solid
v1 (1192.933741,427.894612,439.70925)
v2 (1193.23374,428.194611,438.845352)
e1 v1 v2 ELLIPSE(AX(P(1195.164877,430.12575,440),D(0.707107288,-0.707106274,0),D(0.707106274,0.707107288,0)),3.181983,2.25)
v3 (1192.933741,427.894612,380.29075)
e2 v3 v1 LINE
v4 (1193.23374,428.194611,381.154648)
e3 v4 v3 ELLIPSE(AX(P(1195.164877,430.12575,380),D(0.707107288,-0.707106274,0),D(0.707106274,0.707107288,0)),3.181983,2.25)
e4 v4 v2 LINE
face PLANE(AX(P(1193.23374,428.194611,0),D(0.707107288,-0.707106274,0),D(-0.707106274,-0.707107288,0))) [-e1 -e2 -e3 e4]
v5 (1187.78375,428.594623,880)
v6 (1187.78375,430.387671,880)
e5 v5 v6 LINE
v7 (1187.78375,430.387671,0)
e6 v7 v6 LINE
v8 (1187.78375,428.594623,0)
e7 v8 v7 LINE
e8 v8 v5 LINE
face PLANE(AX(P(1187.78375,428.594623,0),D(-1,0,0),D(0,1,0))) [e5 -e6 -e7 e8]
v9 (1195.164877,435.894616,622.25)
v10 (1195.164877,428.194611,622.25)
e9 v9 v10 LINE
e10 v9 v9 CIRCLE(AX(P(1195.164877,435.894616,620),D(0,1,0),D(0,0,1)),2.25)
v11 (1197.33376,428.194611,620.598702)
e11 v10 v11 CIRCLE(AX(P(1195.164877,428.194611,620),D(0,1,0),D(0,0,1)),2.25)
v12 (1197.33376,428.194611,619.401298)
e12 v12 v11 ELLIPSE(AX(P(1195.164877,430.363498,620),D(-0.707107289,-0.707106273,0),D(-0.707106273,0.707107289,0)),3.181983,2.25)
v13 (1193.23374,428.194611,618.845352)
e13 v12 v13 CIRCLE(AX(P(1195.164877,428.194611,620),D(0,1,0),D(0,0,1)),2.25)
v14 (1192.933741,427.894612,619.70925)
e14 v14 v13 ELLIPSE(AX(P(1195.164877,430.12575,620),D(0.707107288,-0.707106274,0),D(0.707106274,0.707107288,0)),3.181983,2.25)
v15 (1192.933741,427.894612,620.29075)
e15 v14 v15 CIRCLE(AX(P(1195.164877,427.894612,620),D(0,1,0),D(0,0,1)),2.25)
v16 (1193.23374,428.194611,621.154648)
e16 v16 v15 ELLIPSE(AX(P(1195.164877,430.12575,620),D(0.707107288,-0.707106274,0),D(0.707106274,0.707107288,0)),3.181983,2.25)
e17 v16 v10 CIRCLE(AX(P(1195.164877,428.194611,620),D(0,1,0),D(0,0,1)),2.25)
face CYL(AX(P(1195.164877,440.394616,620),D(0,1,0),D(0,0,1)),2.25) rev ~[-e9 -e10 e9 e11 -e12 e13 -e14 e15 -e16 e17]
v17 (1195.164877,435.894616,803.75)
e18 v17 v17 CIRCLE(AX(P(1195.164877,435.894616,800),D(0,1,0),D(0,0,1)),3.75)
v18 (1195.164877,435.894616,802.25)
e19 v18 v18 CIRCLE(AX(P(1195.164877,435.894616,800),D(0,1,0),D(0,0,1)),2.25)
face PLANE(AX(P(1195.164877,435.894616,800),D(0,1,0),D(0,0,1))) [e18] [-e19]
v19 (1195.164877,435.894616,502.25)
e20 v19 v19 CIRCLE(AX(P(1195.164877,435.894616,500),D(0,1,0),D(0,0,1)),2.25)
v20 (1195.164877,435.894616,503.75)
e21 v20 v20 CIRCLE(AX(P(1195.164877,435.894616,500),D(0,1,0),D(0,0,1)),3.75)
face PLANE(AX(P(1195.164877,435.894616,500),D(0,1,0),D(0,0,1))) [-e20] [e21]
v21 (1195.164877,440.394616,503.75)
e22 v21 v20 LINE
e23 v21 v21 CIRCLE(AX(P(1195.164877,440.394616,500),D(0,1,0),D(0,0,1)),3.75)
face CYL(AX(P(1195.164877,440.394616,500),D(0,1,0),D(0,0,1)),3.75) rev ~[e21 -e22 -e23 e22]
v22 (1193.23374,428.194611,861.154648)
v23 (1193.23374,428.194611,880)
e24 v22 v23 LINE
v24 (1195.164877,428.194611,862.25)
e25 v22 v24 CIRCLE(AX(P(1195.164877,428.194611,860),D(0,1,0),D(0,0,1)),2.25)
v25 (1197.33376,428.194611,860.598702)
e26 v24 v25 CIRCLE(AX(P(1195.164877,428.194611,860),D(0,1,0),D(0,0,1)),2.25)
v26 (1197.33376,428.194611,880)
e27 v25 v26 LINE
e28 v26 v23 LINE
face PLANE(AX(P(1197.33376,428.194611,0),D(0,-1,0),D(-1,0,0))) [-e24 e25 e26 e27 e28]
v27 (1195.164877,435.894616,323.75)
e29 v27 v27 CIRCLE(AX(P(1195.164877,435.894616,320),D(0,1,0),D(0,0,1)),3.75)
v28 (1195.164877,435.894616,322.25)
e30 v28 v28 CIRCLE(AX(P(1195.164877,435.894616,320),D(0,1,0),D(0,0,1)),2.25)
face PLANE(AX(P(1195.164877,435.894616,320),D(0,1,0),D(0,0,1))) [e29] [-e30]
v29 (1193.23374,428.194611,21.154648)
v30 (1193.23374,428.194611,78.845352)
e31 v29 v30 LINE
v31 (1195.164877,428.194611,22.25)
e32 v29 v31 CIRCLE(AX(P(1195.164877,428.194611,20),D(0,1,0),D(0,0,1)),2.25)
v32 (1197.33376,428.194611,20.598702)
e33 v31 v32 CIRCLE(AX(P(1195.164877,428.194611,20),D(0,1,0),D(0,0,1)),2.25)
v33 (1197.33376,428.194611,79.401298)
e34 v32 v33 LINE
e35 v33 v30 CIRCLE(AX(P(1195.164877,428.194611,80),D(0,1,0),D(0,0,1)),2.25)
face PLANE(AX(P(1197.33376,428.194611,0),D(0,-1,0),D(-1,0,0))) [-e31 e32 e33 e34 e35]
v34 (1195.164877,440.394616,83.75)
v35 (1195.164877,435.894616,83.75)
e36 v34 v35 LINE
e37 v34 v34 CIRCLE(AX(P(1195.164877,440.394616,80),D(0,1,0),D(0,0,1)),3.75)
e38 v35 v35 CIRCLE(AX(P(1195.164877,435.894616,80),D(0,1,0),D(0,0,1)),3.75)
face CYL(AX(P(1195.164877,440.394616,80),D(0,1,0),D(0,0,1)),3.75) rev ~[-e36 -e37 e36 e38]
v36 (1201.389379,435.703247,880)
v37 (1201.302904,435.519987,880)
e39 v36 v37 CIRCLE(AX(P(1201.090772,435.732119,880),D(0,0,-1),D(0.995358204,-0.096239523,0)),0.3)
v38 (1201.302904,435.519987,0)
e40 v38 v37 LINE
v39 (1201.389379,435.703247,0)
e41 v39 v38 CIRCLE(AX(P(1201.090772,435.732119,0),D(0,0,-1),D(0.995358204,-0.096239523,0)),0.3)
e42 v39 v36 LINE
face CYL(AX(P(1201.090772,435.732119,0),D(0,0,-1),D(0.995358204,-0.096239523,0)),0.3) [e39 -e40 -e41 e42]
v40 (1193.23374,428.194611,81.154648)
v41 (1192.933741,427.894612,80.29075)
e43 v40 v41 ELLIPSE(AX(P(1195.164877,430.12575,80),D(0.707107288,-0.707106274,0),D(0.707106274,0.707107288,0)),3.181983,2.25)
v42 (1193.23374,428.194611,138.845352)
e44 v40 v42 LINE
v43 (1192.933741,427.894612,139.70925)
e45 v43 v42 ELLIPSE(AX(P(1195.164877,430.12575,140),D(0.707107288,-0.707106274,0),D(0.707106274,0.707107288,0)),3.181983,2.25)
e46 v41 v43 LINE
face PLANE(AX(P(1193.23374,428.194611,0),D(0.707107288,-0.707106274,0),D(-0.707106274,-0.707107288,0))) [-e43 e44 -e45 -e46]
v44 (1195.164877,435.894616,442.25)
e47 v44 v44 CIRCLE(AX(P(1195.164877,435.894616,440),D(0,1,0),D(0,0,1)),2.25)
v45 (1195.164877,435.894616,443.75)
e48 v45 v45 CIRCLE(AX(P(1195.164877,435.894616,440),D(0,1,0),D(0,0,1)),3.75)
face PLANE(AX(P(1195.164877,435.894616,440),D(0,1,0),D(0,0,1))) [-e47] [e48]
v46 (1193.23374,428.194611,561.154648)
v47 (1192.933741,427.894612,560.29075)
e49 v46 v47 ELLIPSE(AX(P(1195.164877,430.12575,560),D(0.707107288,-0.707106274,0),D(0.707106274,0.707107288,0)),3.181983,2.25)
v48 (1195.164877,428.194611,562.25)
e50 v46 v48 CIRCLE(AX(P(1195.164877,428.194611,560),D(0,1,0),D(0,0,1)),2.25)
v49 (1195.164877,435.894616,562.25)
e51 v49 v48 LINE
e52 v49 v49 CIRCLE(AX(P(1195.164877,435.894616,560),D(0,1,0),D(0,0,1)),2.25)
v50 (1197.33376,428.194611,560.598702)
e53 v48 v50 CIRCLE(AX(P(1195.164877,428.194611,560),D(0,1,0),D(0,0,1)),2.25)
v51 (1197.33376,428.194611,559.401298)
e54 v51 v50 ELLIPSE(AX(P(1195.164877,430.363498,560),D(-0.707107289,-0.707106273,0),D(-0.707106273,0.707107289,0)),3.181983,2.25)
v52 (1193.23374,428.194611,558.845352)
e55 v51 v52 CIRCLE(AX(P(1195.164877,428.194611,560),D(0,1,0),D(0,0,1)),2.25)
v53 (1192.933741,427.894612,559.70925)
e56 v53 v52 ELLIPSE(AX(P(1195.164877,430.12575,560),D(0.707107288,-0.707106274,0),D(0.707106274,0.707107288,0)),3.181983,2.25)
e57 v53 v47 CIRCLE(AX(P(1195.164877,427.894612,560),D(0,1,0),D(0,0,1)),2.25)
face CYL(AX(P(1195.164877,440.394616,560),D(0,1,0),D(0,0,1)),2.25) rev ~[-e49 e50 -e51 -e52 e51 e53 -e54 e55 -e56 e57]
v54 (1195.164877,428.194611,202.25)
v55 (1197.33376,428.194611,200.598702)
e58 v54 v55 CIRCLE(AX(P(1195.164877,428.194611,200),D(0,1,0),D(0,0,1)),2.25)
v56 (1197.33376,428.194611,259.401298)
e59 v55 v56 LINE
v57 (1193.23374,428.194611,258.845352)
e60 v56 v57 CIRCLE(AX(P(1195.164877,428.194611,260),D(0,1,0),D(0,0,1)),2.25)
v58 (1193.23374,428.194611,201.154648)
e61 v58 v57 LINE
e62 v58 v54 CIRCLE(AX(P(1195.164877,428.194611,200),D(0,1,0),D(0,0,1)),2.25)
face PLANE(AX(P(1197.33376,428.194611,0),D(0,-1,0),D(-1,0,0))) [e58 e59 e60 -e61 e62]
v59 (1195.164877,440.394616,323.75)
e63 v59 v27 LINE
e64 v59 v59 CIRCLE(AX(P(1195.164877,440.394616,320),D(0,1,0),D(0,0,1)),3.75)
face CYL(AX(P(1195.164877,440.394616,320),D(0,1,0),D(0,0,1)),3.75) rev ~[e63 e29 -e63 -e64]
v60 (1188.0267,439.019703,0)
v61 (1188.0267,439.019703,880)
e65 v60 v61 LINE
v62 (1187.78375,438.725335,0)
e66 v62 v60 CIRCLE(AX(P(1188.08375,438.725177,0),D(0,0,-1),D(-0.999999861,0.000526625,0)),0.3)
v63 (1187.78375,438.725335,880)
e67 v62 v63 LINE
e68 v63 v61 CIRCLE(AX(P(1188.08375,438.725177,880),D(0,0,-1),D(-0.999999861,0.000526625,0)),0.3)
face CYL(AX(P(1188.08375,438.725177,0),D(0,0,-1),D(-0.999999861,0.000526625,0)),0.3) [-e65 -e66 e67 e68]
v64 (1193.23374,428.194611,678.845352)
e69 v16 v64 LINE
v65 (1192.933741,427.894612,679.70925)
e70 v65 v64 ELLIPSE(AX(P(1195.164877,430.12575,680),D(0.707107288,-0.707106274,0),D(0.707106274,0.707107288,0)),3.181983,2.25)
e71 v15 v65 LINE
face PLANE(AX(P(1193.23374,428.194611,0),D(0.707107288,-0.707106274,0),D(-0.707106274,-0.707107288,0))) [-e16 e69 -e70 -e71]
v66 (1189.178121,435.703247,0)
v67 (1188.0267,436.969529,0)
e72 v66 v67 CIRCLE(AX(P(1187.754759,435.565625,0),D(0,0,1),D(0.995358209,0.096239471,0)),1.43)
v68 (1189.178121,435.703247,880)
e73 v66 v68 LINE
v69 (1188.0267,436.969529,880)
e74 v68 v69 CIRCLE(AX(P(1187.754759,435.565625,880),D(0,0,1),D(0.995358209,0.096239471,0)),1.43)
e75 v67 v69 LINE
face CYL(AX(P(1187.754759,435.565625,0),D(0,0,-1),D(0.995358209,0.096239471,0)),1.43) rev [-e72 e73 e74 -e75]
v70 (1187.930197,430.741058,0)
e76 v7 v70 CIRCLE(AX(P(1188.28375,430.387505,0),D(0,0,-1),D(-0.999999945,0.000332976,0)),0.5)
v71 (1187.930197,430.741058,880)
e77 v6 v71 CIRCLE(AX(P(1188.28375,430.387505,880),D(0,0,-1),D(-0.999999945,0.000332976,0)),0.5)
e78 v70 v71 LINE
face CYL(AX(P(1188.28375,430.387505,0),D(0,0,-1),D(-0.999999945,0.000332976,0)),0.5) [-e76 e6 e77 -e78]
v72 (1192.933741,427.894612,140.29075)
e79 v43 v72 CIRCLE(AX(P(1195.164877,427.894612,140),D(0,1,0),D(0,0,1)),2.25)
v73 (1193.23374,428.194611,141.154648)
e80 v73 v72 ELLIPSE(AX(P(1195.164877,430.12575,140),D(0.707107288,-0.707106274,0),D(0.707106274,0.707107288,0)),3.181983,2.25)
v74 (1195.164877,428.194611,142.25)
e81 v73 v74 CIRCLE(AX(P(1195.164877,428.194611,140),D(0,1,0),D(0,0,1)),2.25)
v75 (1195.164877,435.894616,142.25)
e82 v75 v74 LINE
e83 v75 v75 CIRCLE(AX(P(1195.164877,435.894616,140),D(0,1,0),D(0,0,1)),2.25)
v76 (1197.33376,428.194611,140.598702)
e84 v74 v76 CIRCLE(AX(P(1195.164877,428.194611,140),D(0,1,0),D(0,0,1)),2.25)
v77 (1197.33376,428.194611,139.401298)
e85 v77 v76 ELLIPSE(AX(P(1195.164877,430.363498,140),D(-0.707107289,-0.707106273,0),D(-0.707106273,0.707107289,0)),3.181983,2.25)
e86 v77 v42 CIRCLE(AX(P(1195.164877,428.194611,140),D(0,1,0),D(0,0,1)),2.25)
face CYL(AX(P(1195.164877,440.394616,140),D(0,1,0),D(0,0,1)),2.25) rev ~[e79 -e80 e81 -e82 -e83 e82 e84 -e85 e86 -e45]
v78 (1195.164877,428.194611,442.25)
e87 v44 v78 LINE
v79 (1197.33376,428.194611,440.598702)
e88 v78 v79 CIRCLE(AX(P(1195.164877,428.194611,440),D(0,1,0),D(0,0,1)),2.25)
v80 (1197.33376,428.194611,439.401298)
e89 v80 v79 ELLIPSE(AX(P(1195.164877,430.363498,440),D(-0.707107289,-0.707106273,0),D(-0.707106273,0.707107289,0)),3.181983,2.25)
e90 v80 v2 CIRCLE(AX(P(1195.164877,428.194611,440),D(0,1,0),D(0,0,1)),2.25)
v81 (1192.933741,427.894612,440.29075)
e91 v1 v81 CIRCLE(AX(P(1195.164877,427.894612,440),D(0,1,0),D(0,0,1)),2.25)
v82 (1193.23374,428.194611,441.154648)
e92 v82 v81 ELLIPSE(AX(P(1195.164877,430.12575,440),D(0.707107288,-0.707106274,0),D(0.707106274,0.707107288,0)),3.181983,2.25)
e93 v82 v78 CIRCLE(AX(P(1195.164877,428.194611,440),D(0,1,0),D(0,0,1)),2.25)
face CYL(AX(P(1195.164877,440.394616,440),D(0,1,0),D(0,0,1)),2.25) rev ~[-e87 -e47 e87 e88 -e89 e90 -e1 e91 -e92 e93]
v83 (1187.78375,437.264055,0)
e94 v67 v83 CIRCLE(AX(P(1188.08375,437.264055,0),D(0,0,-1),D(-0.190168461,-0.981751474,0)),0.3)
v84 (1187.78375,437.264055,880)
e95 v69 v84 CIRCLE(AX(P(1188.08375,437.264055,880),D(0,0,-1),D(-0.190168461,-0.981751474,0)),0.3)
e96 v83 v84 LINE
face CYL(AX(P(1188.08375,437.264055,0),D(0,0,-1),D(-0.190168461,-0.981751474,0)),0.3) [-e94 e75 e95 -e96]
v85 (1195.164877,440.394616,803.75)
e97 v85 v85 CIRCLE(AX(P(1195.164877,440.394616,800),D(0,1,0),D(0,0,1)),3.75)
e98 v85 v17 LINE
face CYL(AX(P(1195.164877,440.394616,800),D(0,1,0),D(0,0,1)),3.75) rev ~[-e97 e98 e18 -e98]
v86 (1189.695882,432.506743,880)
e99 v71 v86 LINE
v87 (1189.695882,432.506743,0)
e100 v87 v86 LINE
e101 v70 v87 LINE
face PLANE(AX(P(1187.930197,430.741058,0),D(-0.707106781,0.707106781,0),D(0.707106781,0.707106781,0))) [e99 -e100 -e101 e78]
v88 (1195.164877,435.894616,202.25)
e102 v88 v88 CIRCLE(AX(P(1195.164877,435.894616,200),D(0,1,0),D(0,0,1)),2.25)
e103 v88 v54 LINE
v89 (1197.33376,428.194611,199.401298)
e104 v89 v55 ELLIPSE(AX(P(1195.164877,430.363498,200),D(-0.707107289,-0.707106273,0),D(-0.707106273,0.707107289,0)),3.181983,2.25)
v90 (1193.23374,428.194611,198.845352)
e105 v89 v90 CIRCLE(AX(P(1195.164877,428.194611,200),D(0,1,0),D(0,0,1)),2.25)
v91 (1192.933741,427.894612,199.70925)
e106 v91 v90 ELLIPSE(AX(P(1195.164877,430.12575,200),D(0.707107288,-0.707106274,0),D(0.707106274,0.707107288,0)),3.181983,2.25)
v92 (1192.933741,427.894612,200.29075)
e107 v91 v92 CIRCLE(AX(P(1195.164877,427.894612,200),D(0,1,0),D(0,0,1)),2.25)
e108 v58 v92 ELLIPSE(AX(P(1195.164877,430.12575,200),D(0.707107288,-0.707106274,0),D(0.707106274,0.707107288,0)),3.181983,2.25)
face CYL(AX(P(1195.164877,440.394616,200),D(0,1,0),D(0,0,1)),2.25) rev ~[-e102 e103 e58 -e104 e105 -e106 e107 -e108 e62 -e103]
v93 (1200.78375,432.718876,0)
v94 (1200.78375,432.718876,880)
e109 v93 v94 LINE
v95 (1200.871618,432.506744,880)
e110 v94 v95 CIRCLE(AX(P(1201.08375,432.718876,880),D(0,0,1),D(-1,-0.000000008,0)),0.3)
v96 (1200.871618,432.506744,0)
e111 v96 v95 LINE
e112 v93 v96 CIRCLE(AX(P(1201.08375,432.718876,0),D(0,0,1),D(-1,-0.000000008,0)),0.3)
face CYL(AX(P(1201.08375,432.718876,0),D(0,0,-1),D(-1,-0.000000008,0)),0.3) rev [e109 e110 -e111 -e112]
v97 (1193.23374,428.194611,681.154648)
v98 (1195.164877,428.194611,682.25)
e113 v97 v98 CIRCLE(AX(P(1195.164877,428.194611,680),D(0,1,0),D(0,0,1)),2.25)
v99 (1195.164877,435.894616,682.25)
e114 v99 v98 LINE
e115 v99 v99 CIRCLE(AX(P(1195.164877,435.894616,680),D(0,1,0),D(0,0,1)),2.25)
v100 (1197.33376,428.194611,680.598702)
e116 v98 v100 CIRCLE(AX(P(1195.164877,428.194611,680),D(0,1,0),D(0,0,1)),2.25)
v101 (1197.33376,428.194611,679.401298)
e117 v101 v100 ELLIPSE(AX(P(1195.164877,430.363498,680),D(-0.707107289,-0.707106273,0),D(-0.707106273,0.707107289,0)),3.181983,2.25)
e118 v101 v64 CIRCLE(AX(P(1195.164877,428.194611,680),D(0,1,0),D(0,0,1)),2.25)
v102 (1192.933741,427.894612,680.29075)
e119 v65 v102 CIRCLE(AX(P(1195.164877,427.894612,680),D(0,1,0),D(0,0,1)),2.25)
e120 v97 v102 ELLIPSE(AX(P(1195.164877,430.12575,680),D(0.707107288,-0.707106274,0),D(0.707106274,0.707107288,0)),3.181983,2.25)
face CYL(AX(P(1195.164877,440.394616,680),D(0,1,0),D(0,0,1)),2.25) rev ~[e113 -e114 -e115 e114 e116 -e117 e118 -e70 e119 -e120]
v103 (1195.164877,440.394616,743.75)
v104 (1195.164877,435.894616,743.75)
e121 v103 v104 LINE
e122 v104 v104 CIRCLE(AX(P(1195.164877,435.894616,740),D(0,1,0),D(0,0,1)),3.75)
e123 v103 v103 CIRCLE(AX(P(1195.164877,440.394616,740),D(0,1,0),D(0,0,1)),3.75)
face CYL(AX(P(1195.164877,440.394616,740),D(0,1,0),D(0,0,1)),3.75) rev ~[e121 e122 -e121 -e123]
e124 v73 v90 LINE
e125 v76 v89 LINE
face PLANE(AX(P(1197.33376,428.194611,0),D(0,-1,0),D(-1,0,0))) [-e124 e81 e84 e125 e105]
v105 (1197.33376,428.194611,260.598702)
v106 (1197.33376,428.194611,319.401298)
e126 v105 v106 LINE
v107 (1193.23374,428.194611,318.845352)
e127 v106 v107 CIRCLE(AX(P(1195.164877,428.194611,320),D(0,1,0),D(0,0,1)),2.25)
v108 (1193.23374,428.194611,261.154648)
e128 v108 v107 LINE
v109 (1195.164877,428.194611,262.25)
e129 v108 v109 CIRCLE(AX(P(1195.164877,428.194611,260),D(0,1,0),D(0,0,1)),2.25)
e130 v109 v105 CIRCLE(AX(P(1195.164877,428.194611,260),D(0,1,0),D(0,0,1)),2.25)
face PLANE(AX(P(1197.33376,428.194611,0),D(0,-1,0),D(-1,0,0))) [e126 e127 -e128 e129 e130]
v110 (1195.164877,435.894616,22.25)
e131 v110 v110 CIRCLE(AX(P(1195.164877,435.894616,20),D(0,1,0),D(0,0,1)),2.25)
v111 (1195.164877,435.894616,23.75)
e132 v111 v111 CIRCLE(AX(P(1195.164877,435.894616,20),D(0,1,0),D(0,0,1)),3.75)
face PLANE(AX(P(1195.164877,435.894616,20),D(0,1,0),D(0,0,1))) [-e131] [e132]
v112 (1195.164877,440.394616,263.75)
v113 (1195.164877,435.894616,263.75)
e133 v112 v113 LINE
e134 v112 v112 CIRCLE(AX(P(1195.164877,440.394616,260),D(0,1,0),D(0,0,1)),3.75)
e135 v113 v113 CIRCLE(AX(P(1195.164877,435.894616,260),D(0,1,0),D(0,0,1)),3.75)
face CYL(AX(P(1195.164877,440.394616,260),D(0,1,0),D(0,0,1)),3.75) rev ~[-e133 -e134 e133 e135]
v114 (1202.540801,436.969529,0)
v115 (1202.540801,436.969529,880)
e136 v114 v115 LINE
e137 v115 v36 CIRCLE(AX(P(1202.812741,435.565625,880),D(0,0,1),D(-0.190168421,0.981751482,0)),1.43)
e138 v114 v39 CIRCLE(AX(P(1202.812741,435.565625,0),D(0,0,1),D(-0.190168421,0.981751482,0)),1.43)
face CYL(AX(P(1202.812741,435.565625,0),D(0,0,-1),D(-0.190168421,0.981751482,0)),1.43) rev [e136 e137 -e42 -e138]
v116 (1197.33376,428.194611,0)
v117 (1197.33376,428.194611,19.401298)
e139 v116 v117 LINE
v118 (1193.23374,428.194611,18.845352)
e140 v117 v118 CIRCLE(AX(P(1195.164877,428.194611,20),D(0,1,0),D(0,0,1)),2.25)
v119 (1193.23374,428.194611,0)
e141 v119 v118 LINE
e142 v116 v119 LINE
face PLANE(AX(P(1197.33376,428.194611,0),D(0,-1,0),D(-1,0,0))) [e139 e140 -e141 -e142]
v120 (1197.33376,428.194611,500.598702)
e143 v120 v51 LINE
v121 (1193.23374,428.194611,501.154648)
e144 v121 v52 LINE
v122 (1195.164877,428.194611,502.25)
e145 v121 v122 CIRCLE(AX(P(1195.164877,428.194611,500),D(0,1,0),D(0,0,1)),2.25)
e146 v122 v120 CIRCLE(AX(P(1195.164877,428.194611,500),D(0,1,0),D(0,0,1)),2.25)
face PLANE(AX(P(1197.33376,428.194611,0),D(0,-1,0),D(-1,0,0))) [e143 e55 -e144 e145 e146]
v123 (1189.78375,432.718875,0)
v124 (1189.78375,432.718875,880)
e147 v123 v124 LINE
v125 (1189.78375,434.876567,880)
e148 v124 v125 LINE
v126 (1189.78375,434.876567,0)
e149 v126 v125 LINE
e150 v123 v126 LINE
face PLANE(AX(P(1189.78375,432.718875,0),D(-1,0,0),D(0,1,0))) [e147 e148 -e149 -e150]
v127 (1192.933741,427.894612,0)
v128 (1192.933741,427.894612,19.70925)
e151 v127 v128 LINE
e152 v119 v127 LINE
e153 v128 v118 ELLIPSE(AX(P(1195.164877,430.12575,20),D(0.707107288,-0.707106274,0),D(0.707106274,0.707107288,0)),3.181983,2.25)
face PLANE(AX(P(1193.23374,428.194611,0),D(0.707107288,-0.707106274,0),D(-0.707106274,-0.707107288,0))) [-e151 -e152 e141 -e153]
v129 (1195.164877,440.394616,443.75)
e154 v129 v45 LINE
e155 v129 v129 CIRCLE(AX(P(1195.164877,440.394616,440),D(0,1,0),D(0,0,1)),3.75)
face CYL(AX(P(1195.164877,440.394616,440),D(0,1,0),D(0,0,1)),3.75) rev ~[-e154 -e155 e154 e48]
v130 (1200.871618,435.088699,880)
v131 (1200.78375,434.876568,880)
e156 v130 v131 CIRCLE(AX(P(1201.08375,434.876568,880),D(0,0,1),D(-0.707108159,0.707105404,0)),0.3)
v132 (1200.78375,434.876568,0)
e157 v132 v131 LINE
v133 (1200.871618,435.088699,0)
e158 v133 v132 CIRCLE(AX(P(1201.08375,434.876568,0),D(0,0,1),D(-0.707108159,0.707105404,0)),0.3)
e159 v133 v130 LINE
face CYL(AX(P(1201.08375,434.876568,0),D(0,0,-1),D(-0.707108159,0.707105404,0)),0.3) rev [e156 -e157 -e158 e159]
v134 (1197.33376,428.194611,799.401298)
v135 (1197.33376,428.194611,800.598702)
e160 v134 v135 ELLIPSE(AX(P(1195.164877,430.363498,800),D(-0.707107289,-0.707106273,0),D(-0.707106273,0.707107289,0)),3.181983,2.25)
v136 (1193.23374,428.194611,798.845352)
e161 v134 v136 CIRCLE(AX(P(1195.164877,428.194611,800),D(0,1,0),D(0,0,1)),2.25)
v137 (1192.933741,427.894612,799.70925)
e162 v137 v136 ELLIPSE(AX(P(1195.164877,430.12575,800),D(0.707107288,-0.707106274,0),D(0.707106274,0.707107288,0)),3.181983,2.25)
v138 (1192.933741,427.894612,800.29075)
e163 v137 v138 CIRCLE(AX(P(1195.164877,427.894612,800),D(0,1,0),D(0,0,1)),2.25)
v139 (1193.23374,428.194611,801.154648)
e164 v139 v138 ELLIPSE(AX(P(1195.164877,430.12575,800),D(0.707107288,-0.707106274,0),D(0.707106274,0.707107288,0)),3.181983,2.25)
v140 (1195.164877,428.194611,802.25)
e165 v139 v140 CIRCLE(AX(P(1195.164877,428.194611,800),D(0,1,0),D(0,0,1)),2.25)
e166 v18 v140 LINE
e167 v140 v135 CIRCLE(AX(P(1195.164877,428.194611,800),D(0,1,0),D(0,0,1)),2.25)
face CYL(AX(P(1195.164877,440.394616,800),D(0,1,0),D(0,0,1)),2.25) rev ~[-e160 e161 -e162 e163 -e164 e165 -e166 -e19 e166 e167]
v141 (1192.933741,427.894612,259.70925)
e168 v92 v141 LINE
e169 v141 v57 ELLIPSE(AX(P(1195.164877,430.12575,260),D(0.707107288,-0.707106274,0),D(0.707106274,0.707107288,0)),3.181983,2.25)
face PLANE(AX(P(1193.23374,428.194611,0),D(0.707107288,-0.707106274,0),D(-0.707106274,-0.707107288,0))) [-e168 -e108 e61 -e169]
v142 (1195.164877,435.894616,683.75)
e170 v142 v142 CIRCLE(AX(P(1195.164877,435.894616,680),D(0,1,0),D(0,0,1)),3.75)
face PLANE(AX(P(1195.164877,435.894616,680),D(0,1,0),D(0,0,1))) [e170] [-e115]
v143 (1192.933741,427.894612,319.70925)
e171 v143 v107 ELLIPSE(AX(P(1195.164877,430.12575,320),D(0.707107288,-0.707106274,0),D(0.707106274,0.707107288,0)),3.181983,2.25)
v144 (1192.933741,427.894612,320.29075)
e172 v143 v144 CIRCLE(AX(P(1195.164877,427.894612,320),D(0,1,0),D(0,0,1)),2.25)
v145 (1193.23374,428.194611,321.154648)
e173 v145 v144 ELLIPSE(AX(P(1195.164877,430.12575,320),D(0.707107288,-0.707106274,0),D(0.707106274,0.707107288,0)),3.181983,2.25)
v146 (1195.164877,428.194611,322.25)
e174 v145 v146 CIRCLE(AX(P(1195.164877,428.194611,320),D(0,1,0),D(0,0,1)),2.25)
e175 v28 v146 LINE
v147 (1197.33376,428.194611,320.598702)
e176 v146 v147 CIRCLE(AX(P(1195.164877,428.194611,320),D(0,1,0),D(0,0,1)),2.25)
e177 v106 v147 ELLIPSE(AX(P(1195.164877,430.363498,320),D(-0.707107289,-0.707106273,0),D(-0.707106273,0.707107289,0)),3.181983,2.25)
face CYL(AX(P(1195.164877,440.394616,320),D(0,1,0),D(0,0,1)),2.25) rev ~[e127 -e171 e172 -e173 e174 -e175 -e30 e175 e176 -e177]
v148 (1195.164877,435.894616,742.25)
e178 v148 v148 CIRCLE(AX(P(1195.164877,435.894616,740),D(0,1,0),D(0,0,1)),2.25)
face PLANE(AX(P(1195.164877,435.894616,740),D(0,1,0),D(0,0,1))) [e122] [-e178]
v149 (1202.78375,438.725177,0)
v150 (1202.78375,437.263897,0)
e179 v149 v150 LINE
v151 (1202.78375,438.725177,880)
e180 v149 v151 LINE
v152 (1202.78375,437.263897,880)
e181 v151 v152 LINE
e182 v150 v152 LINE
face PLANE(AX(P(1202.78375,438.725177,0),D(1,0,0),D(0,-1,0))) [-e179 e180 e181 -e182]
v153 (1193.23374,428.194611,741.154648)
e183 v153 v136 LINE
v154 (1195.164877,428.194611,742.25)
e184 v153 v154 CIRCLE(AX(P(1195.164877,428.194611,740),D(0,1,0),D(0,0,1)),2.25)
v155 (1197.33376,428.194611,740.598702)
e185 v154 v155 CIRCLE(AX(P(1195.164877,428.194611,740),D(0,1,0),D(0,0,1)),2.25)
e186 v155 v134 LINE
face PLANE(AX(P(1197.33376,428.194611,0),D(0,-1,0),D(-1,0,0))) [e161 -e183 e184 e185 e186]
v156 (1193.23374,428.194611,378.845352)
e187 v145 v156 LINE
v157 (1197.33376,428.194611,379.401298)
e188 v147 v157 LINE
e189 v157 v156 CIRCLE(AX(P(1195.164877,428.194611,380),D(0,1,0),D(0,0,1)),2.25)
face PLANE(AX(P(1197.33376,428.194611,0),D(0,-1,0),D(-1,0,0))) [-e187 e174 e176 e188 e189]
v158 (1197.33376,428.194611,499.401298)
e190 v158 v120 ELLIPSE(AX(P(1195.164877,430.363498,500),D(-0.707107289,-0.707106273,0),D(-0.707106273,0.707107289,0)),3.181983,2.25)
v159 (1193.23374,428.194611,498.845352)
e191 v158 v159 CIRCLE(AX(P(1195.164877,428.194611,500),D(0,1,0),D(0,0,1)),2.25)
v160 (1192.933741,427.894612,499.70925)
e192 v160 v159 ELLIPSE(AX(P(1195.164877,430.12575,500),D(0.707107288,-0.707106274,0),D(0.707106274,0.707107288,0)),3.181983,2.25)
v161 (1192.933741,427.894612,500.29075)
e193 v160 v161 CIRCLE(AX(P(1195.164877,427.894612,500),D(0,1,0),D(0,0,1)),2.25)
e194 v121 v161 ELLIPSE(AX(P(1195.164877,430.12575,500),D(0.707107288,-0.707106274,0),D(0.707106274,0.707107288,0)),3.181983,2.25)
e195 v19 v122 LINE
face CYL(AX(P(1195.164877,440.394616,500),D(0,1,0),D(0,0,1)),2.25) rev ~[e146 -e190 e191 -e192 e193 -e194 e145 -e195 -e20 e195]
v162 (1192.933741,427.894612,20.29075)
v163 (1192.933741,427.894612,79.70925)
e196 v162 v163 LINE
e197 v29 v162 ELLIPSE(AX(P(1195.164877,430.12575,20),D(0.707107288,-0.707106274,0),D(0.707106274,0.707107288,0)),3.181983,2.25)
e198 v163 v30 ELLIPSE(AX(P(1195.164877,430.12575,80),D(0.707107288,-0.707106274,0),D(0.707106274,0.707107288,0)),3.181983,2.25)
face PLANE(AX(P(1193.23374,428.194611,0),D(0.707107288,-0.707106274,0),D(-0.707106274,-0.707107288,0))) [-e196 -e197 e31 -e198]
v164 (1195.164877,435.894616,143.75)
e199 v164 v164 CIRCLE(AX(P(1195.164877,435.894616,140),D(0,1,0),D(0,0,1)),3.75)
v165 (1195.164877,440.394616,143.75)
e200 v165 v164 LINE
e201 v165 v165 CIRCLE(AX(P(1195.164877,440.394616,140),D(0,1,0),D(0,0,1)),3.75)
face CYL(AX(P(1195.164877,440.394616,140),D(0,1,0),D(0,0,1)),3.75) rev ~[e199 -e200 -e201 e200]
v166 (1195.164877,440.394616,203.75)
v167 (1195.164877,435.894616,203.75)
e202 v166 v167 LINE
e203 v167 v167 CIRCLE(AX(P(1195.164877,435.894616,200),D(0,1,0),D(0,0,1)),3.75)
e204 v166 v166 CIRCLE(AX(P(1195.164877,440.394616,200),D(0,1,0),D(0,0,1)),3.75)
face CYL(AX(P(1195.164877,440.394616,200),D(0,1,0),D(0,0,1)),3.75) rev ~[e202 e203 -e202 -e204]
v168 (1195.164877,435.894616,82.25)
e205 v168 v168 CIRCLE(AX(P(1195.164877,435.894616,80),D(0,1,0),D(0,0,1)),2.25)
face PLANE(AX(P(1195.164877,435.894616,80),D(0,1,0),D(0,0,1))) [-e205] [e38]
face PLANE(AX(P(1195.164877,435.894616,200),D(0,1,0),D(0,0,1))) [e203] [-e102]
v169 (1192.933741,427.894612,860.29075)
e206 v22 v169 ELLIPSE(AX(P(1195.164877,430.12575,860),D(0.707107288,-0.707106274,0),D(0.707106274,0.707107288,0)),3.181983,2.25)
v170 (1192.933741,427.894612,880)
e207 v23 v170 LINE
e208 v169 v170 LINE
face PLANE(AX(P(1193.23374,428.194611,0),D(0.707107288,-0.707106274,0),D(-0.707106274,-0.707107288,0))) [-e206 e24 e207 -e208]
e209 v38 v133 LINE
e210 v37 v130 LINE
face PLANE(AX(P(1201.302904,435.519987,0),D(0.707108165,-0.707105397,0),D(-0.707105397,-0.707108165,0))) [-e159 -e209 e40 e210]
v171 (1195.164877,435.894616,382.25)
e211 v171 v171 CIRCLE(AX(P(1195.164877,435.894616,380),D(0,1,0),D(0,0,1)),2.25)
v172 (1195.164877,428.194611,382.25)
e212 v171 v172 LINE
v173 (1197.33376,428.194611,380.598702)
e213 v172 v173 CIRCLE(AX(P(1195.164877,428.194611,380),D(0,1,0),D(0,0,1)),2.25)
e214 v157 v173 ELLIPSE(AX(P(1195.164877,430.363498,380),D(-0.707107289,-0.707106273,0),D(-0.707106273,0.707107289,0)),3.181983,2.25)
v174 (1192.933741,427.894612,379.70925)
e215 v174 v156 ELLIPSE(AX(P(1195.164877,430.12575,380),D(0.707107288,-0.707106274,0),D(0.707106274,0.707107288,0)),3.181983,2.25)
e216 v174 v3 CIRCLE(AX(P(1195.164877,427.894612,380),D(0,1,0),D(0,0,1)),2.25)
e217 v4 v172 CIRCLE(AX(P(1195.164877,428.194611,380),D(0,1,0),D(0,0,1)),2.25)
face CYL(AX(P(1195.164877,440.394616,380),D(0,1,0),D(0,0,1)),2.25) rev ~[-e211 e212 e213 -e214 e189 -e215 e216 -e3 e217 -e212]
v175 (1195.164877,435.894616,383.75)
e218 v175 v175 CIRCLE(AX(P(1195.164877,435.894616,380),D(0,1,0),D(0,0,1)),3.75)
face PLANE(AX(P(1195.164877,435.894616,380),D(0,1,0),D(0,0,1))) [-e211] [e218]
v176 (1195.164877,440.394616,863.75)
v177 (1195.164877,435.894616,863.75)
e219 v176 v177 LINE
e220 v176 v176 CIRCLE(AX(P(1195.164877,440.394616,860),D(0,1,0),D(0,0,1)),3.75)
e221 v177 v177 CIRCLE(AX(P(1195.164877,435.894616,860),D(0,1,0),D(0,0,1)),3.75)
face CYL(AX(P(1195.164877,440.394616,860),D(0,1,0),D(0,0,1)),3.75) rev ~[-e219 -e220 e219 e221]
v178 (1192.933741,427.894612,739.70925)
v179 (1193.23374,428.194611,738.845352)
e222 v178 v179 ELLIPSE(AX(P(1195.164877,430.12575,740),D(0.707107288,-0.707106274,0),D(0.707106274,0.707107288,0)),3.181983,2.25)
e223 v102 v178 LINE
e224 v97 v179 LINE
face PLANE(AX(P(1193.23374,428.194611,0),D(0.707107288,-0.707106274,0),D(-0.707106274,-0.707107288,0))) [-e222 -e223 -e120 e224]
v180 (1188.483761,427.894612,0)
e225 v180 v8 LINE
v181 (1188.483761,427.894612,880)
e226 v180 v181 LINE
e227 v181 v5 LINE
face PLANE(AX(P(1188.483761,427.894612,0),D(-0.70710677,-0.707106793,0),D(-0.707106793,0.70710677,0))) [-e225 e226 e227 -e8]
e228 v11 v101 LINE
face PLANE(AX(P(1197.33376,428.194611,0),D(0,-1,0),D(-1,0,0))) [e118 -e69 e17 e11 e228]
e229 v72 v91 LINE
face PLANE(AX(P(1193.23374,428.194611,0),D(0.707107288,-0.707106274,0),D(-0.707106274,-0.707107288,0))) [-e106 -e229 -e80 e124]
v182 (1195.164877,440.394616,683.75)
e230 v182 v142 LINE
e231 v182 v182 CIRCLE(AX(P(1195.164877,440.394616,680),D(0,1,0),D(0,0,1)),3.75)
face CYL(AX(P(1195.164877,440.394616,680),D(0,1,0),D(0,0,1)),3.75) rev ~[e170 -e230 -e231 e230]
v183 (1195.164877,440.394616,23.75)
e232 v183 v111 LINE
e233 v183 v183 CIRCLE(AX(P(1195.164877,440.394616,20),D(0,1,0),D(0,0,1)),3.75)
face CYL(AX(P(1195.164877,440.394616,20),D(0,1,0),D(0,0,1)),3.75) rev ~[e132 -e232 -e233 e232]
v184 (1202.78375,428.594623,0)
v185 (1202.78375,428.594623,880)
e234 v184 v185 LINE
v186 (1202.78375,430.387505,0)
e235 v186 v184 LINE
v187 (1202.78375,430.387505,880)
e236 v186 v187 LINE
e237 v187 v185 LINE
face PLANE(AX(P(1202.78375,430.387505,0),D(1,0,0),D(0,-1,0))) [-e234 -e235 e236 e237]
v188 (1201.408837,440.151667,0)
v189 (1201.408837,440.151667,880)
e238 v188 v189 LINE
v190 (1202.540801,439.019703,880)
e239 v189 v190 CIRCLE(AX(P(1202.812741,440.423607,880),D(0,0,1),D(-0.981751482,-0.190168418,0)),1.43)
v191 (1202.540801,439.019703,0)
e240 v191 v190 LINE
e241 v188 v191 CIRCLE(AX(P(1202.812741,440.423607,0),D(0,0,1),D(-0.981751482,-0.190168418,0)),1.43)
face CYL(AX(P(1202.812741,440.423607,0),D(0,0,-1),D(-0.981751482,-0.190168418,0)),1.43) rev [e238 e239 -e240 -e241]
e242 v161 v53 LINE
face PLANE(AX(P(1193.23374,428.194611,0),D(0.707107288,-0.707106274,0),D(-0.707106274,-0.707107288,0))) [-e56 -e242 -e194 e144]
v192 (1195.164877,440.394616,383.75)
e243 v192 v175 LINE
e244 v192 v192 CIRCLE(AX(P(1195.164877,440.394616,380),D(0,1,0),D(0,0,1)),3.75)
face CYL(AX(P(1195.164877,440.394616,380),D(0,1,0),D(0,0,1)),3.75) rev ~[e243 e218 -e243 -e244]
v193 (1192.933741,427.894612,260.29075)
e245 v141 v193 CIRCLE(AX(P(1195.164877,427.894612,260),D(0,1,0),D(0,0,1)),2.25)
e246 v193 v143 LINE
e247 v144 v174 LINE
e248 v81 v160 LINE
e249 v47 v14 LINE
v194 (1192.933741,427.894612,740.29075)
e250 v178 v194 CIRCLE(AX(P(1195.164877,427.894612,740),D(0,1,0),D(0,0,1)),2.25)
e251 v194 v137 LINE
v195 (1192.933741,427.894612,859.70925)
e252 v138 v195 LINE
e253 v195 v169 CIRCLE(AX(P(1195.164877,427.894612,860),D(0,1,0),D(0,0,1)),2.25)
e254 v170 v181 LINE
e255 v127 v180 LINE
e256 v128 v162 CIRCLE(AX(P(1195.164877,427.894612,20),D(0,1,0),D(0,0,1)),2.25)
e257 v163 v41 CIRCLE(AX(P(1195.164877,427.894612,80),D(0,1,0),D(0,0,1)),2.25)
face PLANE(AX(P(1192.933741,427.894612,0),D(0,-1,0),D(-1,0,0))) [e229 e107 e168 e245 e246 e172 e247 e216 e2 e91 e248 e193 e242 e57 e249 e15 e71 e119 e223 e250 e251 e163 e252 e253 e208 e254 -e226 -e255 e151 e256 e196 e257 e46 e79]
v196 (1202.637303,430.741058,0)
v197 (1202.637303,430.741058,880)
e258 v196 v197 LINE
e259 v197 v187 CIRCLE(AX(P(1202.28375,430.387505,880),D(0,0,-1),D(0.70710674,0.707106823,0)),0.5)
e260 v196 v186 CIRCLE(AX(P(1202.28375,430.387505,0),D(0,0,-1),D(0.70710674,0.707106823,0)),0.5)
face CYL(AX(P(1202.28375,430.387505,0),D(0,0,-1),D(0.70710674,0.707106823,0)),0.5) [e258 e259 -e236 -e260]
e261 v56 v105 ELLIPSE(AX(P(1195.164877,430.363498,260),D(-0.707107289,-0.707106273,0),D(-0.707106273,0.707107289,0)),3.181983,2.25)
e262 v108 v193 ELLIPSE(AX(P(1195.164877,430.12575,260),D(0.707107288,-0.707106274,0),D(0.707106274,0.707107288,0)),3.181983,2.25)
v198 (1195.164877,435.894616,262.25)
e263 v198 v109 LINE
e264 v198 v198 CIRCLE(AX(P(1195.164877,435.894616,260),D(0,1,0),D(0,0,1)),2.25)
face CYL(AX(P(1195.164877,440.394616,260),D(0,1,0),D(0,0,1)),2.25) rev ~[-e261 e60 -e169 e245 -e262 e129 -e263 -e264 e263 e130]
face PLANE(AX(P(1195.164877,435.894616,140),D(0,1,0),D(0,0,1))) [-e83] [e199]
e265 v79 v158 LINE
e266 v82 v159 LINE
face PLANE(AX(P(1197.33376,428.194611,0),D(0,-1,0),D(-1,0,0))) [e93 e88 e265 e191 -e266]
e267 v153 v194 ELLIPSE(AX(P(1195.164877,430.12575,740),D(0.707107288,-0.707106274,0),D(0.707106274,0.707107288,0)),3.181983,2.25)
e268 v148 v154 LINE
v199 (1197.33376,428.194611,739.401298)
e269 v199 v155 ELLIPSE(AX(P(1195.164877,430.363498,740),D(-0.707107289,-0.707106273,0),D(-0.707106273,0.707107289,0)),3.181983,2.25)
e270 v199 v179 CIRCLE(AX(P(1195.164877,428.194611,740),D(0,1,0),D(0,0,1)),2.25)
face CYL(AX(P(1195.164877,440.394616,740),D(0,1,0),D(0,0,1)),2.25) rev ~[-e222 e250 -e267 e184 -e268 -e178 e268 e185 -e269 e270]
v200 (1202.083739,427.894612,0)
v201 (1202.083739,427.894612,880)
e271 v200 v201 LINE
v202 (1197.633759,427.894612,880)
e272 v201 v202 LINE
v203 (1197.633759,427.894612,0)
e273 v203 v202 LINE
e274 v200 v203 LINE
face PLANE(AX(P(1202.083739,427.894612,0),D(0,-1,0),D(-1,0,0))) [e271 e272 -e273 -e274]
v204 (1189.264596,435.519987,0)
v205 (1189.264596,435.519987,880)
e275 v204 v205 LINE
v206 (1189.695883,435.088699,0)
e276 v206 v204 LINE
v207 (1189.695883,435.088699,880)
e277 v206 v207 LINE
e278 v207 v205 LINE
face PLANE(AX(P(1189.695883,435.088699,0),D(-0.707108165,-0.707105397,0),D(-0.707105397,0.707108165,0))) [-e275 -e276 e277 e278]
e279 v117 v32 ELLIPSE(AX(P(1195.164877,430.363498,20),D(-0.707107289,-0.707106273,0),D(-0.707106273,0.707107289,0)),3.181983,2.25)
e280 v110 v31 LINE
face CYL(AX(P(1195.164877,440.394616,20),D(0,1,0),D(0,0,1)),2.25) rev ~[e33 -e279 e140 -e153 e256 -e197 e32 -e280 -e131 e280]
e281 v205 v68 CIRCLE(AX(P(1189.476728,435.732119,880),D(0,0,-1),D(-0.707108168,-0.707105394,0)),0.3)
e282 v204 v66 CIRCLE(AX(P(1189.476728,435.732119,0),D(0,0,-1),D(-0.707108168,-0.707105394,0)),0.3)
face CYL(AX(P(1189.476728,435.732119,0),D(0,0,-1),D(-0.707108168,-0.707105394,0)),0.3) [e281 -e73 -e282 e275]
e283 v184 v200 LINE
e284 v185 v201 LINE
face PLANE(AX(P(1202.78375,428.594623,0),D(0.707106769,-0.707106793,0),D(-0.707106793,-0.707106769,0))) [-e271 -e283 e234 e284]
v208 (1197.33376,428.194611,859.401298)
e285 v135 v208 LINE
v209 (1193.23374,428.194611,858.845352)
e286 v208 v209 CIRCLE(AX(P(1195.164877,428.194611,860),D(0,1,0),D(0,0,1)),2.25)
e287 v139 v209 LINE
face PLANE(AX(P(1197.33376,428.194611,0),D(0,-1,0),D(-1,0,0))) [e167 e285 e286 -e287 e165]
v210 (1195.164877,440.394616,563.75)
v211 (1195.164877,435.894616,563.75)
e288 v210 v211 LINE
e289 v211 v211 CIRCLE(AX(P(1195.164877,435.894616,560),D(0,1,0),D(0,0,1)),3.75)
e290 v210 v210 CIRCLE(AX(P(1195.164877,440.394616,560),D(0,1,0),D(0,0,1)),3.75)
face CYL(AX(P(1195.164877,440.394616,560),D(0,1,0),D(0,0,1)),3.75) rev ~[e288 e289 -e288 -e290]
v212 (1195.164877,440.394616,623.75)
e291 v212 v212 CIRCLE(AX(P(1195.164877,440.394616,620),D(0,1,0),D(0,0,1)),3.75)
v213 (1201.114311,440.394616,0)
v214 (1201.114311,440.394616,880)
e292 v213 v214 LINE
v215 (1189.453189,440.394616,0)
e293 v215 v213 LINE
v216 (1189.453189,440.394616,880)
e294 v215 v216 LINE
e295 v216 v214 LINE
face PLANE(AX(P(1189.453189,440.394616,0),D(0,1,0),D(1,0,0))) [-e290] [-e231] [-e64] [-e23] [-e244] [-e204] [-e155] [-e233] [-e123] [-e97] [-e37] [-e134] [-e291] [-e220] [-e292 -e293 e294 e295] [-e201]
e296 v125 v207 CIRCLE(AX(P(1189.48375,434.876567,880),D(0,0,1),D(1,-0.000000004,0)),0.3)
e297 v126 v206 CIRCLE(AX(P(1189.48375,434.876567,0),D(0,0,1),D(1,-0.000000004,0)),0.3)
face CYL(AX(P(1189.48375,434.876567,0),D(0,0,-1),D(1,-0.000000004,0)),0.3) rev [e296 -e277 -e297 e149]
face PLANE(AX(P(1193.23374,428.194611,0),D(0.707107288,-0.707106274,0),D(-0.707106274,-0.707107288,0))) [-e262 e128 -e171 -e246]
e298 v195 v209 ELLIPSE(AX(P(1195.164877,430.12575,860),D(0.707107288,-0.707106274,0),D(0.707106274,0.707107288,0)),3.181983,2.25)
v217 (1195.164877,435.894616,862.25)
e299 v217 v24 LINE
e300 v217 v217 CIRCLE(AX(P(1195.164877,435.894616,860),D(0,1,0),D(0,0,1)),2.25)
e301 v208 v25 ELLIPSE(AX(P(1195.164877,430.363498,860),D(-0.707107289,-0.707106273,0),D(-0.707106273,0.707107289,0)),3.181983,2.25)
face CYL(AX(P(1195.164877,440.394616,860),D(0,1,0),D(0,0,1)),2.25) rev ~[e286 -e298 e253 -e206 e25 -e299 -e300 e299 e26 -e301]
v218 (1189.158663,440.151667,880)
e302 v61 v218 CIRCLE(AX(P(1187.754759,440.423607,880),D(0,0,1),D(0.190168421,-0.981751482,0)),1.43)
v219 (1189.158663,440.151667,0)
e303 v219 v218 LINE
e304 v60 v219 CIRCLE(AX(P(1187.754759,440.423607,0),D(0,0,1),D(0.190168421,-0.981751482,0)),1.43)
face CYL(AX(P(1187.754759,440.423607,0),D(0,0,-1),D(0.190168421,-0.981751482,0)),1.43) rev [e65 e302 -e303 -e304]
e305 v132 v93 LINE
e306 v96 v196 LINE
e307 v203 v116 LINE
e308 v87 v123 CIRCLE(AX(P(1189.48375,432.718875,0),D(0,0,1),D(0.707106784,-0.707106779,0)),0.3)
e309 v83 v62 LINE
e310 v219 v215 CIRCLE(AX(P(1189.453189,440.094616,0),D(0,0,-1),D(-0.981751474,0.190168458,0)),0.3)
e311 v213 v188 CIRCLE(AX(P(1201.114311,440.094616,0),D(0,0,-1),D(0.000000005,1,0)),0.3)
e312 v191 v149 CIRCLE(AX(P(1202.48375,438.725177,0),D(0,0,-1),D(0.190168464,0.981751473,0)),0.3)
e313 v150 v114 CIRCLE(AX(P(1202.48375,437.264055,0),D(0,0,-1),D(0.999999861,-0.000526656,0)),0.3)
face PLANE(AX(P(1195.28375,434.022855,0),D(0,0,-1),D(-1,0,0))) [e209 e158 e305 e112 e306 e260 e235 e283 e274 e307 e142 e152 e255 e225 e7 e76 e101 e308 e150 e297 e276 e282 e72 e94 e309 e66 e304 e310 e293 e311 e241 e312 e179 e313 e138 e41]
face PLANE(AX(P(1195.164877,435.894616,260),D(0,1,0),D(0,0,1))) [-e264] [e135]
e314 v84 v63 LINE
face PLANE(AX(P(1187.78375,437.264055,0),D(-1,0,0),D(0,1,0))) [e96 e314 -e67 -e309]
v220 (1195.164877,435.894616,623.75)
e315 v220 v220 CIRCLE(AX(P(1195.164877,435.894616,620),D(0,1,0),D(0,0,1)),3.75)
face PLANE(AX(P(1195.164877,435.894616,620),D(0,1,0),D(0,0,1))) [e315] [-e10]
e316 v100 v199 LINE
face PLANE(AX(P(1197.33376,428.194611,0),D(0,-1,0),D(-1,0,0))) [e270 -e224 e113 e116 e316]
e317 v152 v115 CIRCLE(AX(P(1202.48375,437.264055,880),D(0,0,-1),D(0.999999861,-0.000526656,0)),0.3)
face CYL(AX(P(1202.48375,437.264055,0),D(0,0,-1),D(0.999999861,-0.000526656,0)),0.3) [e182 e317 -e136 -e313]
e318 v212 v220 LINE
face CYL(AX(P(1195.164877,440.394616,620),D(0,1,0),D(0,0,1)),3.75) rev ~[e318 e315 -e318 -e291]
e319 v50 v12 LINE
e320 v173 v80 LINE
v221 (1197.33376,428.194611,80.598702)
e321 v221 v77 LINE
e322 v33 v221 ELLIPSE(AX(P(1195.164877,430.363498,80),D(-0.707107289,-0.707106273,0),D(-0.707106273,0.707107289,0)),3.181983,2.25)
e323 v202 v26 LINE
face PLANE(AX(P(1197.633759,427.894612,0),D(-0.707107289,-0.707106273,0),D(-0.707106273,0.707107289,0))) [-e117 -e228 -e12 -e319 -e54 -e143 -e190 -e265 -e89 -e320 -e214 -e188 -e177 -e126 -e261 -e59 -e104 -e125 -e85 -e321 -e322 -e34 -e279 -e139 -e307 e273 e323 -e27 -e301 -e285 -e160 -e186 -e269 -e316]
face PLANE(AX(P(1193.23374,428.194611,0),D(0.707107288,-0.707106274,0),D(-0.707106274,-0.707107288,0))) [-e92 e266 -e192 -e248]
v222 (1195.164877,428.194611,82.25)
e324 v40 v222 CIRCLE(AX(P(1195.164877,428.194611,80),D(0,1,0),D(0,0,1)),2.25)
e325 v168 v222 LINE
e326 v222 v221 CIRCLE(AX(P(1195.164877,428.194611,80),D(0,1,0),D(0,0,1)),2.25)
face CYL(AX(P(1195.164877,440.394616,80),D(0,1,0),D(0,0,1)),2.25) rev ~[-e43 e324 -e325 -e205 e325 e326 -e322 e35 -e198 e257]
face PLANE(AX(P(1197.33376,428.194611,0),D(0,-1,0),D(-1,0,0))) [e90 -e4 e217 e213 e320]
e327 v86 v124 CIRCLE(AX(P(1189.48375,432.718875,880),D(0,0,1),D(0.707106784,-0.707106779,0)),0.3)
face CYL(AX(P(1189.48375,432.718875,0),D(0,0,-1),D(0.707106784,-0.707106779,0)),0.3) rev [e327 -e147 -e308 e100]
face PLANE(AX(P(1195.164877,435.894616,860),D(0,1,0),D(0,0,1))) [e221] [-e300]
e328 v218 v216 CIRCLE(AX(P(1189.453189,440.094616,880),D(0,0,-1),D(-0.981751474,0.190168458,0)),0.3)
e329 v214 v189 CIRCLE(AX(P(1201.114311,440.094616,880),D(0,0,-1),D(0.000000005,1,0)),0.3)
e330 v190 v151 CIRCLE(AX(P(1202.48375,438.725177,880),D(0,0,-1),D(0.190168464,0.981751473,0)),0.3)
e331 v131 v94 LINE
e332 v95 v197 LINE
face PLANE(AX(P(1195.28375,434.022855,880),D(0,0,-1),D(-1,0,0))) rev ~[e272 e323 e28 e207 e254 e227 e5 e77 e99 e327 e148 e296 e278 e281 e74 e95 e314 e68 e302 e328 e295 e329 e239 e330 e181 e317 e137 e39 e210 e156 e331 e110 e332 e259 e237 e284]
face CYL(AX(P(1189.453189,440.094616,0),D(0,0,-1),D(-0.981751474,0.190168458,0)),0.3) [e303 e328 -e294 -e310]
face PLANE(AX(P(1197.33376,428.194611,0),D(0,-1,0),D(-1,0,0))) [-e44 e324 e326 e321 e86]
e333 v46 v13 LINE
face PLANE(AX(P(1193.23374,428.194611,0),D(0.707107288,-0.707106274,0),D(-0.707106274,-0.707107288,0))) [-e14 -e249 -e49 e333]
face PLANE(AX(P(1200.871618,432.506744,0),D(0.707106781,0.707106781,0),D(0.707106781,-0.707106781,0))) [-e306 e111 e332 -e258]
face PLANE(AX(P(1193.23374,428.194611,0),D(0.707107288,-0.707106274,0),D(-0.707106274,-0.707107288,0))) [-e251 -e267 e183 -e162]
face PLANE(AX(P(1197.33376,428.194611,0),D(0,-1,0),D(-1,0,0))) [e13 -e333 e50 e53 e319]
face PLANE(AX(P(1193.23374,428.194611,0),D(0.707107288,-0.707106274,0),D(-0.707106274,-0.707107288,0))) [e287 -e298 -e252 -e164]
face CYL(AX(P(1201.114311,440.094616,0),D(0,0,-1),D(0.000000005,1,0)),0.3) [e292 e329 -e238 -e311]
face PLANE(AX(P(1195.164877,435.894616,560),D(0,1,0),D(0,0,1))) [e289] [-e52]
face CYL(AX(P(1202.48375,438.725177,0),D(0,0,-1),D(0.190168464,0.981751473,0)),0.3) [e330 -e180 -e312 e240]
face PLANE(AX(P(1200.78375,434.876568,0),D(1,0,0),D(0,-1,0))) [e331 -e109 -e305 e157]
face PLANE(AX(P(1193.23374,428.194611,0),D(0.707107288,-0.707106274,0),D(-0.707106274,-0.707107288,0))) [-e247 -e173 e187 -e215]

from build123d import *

# Parameters (mm, degrees)
EXTRUDE_1_DEPTH        = 880
CUT_EXTRUDE_2_REACH    = 1492.384
SKETCH_2_R             = 2.25
SKETCH_4_R             = 3.75
CUT_EXTRUDE_10_DEPTH   = 4.5
PATTERN_LINEAR_1_COUNT = 15
PATTERN_LINEAR_1_PITCH = 60


with BuildPart() as part:
    # 草图1 → 拉伸1 (new body)
    with BuildSketch(Plane.XY):
        with BuildLine():
            Line((1192.933741322, 427.89461201), (1188.483761052, 427.89461201))
            Line((1188.483761052, 427.89461201), (1187.783750122, 428.594622917))
            Line((1187.783750122, 428.594622917), (1187.783750122, 430.38767109))
            ThreePointArc((1187.783750122, 430.38767109), (1187.821842198, 430.578923241), (1187.930196731, 430.74105802))
            Line((1187.930196731, 430.74105802), (1189.695882156, 432.506743445))
            ThreePointArc((1189.695882156, 432.506743445), (1189.760913981, 432.604070449), (1189.783750122, 432.718875479))
            Line((1189.783750122, 432.718875479), (1189.783750122, 434.876567432))
            ThreePointArc((1189.783750122, 434.876567432), (1189.760914094, 434.991372191), (1189.695882571, 435.088699051))
            Line((1189.695882571, 435.088699051), (1189.264595994, 435.519987316))
            ThreePointArc((1189.264595994, 435.519987316), (1189.205417093, 435.60409491), (1189.178120982, 435.703247076))
            ThreePointArc((1189.178120982, 435.703247076), (1188.812766668, 436.527663733), (1188.026699583, 436.969529251))
            ThreePointArc((1188.026699583, 436.969529251), (1187.852325013, 437.073155717), (1187.783750122, 437.264054693))
            Line((1187.783750122, 437.264054693), (1187.783750122, 438.725335317))
            ThreePointArc((1187.783750122, 438.725335317), (1187.852375251, 438.916137249), (1188.026699559, 439.01970279))
            ThreePointArc((1188.026699559, 439.01970279), (1188.765921394, 439.412444701), (1189.158663305, 440.151666536))
            ThreePointArc((1189.158663305, 440.151666536), (1189.26228977, 440.326041106), (1189.453188747, 440.394615998))
            Line((1189.453188747, 440.394615998), (1201.114311381, 440.394615998))
            ThreePointArc((1201.114311381, 440.394615998), (1201.305210357, 440.326041106), (1201.408836823, 440.151666536))
            ThreePointArc((1201.408836823, 440.151666536), (1201.801578733, 439.4124447), (1202.540800569, 439.01970279))
            ThreePointArc((1202.540800569, 439.01970279), (1202.715175139, 438.916076324), (1202.783750031, 438.725177348))
            Line((1202.783750031, 438.725177348), (1202.783750031, 437.263896724))
            ThreePointArc((1202.783750031, 437.263896724), (1202.71512489, 437.073094794), (1202.540800569, 436.969529272))
            ThreePointArc((1202.540800569, 436.969529272), (1201.754733531, 436.527663779), (1201.389379239, 435.703247172))
            ThreePointArc((1201.389379239, 435.703247172), (1201.362083129, 435.604095006), (1201.302904227, 435.519987412))
            Line((1201.302904227, 435.519987412), (1200.87161765, 435.088699147))
            ThreePointArc((1200.87161765, 435.088699147), (1200.806586127, 434.991372287), (1200.783750099, 434.876567528))
            Line((1200.783750099, 434.876567528), (1200.783750099, 432.718875575))
            ThreePointArc((1200.783750099, 432.718875575), (1200.80658624, 432.604070545), (1200.871618065, 432.506743541))
            Line((1200.871618065, 432.506743541), (1202.63730349, 430.741058116))
            ThreePointArc((1202.63730349, 430.741058116), (1202.745689896, 430.578846399), (1202.783750122, 430.387504629))
            Line((1202.783750122, 430.387504629), (1202.783750122, 428.594622917))
            Line((1202.783750122, 428.594622917), (1202.083739191, 427.89461201))
            Line((1202.083739191, 427.89461201), (1197.633758921, 427.89461201))
            Line((1197.633758921, 427.89461201), (1197.333760112, 428.19461125))
            Line((1197.333760112, 428.19461125), (1193.233740132, 428.19461125))
            Line((1193.233740132, 428.19461125), (1192.933741322, 427.89461201))
        make_face()
    extrude(amount=EXTRUDE_1_DEPTH)

    # 草图2 → 拉伸2 (cut, up to next)
    with BuildSketch(Plane(origin=(0, 440.394615998, 0), x_dir=(1, 0, 0), z_dir=(0, 1, 0)), mode=Mode.PRIVATE) as cut_extrude_2_sk1:
        with Locations(Location((1195.164876507, -860, 0), (0, 0, 270))):
            Circle(SKETCH_2_R)
    cut_extrude_2_tool1 = extrude(cut_extrude_2_sk1.sketch, amount=-CUT_EXTRUDE_2_REACH, mode=Mode.PRIVATE) & part.part
    cut_extrude_2 = cut_extrude_2_tool1.solids().sort_by_distance((1195.164877, 440.394616, 860))[0]
    add(cut_extrude_2, mode=Mode.SUBTRACT)

    # 草图4 → 拉伸10 (cut)
    with BuildSketch(Plane(origin=(0, 440.394615998, 0), x_dir=(1, 0, 0), z_dir=(0, 1, 0))):
        with Locations(Location((1195.164876507, -860, 0), (0, 0, 270))):
            Circle(SKETCH_4_R)
    cut_extrude_10 = extrude(amount=-CUT_EXTRUDE_10_DEPTH, mode=Mode.SUBTRACT)

    # 阵列(线性)1: 拉伸2, 拉伸10 ×15
    with Locations(*[(0, 0, -i * PATTERN_LINEAR_1_PITCH) for i in range(1, PATTERN_LINEAR_1_COUNT)]):
        add(cut_extrude_2, mode=Mode.SUBTRACT)
        add(cut_extrude_10, mode=Mode.SUBTRACT)


solid = part.part
